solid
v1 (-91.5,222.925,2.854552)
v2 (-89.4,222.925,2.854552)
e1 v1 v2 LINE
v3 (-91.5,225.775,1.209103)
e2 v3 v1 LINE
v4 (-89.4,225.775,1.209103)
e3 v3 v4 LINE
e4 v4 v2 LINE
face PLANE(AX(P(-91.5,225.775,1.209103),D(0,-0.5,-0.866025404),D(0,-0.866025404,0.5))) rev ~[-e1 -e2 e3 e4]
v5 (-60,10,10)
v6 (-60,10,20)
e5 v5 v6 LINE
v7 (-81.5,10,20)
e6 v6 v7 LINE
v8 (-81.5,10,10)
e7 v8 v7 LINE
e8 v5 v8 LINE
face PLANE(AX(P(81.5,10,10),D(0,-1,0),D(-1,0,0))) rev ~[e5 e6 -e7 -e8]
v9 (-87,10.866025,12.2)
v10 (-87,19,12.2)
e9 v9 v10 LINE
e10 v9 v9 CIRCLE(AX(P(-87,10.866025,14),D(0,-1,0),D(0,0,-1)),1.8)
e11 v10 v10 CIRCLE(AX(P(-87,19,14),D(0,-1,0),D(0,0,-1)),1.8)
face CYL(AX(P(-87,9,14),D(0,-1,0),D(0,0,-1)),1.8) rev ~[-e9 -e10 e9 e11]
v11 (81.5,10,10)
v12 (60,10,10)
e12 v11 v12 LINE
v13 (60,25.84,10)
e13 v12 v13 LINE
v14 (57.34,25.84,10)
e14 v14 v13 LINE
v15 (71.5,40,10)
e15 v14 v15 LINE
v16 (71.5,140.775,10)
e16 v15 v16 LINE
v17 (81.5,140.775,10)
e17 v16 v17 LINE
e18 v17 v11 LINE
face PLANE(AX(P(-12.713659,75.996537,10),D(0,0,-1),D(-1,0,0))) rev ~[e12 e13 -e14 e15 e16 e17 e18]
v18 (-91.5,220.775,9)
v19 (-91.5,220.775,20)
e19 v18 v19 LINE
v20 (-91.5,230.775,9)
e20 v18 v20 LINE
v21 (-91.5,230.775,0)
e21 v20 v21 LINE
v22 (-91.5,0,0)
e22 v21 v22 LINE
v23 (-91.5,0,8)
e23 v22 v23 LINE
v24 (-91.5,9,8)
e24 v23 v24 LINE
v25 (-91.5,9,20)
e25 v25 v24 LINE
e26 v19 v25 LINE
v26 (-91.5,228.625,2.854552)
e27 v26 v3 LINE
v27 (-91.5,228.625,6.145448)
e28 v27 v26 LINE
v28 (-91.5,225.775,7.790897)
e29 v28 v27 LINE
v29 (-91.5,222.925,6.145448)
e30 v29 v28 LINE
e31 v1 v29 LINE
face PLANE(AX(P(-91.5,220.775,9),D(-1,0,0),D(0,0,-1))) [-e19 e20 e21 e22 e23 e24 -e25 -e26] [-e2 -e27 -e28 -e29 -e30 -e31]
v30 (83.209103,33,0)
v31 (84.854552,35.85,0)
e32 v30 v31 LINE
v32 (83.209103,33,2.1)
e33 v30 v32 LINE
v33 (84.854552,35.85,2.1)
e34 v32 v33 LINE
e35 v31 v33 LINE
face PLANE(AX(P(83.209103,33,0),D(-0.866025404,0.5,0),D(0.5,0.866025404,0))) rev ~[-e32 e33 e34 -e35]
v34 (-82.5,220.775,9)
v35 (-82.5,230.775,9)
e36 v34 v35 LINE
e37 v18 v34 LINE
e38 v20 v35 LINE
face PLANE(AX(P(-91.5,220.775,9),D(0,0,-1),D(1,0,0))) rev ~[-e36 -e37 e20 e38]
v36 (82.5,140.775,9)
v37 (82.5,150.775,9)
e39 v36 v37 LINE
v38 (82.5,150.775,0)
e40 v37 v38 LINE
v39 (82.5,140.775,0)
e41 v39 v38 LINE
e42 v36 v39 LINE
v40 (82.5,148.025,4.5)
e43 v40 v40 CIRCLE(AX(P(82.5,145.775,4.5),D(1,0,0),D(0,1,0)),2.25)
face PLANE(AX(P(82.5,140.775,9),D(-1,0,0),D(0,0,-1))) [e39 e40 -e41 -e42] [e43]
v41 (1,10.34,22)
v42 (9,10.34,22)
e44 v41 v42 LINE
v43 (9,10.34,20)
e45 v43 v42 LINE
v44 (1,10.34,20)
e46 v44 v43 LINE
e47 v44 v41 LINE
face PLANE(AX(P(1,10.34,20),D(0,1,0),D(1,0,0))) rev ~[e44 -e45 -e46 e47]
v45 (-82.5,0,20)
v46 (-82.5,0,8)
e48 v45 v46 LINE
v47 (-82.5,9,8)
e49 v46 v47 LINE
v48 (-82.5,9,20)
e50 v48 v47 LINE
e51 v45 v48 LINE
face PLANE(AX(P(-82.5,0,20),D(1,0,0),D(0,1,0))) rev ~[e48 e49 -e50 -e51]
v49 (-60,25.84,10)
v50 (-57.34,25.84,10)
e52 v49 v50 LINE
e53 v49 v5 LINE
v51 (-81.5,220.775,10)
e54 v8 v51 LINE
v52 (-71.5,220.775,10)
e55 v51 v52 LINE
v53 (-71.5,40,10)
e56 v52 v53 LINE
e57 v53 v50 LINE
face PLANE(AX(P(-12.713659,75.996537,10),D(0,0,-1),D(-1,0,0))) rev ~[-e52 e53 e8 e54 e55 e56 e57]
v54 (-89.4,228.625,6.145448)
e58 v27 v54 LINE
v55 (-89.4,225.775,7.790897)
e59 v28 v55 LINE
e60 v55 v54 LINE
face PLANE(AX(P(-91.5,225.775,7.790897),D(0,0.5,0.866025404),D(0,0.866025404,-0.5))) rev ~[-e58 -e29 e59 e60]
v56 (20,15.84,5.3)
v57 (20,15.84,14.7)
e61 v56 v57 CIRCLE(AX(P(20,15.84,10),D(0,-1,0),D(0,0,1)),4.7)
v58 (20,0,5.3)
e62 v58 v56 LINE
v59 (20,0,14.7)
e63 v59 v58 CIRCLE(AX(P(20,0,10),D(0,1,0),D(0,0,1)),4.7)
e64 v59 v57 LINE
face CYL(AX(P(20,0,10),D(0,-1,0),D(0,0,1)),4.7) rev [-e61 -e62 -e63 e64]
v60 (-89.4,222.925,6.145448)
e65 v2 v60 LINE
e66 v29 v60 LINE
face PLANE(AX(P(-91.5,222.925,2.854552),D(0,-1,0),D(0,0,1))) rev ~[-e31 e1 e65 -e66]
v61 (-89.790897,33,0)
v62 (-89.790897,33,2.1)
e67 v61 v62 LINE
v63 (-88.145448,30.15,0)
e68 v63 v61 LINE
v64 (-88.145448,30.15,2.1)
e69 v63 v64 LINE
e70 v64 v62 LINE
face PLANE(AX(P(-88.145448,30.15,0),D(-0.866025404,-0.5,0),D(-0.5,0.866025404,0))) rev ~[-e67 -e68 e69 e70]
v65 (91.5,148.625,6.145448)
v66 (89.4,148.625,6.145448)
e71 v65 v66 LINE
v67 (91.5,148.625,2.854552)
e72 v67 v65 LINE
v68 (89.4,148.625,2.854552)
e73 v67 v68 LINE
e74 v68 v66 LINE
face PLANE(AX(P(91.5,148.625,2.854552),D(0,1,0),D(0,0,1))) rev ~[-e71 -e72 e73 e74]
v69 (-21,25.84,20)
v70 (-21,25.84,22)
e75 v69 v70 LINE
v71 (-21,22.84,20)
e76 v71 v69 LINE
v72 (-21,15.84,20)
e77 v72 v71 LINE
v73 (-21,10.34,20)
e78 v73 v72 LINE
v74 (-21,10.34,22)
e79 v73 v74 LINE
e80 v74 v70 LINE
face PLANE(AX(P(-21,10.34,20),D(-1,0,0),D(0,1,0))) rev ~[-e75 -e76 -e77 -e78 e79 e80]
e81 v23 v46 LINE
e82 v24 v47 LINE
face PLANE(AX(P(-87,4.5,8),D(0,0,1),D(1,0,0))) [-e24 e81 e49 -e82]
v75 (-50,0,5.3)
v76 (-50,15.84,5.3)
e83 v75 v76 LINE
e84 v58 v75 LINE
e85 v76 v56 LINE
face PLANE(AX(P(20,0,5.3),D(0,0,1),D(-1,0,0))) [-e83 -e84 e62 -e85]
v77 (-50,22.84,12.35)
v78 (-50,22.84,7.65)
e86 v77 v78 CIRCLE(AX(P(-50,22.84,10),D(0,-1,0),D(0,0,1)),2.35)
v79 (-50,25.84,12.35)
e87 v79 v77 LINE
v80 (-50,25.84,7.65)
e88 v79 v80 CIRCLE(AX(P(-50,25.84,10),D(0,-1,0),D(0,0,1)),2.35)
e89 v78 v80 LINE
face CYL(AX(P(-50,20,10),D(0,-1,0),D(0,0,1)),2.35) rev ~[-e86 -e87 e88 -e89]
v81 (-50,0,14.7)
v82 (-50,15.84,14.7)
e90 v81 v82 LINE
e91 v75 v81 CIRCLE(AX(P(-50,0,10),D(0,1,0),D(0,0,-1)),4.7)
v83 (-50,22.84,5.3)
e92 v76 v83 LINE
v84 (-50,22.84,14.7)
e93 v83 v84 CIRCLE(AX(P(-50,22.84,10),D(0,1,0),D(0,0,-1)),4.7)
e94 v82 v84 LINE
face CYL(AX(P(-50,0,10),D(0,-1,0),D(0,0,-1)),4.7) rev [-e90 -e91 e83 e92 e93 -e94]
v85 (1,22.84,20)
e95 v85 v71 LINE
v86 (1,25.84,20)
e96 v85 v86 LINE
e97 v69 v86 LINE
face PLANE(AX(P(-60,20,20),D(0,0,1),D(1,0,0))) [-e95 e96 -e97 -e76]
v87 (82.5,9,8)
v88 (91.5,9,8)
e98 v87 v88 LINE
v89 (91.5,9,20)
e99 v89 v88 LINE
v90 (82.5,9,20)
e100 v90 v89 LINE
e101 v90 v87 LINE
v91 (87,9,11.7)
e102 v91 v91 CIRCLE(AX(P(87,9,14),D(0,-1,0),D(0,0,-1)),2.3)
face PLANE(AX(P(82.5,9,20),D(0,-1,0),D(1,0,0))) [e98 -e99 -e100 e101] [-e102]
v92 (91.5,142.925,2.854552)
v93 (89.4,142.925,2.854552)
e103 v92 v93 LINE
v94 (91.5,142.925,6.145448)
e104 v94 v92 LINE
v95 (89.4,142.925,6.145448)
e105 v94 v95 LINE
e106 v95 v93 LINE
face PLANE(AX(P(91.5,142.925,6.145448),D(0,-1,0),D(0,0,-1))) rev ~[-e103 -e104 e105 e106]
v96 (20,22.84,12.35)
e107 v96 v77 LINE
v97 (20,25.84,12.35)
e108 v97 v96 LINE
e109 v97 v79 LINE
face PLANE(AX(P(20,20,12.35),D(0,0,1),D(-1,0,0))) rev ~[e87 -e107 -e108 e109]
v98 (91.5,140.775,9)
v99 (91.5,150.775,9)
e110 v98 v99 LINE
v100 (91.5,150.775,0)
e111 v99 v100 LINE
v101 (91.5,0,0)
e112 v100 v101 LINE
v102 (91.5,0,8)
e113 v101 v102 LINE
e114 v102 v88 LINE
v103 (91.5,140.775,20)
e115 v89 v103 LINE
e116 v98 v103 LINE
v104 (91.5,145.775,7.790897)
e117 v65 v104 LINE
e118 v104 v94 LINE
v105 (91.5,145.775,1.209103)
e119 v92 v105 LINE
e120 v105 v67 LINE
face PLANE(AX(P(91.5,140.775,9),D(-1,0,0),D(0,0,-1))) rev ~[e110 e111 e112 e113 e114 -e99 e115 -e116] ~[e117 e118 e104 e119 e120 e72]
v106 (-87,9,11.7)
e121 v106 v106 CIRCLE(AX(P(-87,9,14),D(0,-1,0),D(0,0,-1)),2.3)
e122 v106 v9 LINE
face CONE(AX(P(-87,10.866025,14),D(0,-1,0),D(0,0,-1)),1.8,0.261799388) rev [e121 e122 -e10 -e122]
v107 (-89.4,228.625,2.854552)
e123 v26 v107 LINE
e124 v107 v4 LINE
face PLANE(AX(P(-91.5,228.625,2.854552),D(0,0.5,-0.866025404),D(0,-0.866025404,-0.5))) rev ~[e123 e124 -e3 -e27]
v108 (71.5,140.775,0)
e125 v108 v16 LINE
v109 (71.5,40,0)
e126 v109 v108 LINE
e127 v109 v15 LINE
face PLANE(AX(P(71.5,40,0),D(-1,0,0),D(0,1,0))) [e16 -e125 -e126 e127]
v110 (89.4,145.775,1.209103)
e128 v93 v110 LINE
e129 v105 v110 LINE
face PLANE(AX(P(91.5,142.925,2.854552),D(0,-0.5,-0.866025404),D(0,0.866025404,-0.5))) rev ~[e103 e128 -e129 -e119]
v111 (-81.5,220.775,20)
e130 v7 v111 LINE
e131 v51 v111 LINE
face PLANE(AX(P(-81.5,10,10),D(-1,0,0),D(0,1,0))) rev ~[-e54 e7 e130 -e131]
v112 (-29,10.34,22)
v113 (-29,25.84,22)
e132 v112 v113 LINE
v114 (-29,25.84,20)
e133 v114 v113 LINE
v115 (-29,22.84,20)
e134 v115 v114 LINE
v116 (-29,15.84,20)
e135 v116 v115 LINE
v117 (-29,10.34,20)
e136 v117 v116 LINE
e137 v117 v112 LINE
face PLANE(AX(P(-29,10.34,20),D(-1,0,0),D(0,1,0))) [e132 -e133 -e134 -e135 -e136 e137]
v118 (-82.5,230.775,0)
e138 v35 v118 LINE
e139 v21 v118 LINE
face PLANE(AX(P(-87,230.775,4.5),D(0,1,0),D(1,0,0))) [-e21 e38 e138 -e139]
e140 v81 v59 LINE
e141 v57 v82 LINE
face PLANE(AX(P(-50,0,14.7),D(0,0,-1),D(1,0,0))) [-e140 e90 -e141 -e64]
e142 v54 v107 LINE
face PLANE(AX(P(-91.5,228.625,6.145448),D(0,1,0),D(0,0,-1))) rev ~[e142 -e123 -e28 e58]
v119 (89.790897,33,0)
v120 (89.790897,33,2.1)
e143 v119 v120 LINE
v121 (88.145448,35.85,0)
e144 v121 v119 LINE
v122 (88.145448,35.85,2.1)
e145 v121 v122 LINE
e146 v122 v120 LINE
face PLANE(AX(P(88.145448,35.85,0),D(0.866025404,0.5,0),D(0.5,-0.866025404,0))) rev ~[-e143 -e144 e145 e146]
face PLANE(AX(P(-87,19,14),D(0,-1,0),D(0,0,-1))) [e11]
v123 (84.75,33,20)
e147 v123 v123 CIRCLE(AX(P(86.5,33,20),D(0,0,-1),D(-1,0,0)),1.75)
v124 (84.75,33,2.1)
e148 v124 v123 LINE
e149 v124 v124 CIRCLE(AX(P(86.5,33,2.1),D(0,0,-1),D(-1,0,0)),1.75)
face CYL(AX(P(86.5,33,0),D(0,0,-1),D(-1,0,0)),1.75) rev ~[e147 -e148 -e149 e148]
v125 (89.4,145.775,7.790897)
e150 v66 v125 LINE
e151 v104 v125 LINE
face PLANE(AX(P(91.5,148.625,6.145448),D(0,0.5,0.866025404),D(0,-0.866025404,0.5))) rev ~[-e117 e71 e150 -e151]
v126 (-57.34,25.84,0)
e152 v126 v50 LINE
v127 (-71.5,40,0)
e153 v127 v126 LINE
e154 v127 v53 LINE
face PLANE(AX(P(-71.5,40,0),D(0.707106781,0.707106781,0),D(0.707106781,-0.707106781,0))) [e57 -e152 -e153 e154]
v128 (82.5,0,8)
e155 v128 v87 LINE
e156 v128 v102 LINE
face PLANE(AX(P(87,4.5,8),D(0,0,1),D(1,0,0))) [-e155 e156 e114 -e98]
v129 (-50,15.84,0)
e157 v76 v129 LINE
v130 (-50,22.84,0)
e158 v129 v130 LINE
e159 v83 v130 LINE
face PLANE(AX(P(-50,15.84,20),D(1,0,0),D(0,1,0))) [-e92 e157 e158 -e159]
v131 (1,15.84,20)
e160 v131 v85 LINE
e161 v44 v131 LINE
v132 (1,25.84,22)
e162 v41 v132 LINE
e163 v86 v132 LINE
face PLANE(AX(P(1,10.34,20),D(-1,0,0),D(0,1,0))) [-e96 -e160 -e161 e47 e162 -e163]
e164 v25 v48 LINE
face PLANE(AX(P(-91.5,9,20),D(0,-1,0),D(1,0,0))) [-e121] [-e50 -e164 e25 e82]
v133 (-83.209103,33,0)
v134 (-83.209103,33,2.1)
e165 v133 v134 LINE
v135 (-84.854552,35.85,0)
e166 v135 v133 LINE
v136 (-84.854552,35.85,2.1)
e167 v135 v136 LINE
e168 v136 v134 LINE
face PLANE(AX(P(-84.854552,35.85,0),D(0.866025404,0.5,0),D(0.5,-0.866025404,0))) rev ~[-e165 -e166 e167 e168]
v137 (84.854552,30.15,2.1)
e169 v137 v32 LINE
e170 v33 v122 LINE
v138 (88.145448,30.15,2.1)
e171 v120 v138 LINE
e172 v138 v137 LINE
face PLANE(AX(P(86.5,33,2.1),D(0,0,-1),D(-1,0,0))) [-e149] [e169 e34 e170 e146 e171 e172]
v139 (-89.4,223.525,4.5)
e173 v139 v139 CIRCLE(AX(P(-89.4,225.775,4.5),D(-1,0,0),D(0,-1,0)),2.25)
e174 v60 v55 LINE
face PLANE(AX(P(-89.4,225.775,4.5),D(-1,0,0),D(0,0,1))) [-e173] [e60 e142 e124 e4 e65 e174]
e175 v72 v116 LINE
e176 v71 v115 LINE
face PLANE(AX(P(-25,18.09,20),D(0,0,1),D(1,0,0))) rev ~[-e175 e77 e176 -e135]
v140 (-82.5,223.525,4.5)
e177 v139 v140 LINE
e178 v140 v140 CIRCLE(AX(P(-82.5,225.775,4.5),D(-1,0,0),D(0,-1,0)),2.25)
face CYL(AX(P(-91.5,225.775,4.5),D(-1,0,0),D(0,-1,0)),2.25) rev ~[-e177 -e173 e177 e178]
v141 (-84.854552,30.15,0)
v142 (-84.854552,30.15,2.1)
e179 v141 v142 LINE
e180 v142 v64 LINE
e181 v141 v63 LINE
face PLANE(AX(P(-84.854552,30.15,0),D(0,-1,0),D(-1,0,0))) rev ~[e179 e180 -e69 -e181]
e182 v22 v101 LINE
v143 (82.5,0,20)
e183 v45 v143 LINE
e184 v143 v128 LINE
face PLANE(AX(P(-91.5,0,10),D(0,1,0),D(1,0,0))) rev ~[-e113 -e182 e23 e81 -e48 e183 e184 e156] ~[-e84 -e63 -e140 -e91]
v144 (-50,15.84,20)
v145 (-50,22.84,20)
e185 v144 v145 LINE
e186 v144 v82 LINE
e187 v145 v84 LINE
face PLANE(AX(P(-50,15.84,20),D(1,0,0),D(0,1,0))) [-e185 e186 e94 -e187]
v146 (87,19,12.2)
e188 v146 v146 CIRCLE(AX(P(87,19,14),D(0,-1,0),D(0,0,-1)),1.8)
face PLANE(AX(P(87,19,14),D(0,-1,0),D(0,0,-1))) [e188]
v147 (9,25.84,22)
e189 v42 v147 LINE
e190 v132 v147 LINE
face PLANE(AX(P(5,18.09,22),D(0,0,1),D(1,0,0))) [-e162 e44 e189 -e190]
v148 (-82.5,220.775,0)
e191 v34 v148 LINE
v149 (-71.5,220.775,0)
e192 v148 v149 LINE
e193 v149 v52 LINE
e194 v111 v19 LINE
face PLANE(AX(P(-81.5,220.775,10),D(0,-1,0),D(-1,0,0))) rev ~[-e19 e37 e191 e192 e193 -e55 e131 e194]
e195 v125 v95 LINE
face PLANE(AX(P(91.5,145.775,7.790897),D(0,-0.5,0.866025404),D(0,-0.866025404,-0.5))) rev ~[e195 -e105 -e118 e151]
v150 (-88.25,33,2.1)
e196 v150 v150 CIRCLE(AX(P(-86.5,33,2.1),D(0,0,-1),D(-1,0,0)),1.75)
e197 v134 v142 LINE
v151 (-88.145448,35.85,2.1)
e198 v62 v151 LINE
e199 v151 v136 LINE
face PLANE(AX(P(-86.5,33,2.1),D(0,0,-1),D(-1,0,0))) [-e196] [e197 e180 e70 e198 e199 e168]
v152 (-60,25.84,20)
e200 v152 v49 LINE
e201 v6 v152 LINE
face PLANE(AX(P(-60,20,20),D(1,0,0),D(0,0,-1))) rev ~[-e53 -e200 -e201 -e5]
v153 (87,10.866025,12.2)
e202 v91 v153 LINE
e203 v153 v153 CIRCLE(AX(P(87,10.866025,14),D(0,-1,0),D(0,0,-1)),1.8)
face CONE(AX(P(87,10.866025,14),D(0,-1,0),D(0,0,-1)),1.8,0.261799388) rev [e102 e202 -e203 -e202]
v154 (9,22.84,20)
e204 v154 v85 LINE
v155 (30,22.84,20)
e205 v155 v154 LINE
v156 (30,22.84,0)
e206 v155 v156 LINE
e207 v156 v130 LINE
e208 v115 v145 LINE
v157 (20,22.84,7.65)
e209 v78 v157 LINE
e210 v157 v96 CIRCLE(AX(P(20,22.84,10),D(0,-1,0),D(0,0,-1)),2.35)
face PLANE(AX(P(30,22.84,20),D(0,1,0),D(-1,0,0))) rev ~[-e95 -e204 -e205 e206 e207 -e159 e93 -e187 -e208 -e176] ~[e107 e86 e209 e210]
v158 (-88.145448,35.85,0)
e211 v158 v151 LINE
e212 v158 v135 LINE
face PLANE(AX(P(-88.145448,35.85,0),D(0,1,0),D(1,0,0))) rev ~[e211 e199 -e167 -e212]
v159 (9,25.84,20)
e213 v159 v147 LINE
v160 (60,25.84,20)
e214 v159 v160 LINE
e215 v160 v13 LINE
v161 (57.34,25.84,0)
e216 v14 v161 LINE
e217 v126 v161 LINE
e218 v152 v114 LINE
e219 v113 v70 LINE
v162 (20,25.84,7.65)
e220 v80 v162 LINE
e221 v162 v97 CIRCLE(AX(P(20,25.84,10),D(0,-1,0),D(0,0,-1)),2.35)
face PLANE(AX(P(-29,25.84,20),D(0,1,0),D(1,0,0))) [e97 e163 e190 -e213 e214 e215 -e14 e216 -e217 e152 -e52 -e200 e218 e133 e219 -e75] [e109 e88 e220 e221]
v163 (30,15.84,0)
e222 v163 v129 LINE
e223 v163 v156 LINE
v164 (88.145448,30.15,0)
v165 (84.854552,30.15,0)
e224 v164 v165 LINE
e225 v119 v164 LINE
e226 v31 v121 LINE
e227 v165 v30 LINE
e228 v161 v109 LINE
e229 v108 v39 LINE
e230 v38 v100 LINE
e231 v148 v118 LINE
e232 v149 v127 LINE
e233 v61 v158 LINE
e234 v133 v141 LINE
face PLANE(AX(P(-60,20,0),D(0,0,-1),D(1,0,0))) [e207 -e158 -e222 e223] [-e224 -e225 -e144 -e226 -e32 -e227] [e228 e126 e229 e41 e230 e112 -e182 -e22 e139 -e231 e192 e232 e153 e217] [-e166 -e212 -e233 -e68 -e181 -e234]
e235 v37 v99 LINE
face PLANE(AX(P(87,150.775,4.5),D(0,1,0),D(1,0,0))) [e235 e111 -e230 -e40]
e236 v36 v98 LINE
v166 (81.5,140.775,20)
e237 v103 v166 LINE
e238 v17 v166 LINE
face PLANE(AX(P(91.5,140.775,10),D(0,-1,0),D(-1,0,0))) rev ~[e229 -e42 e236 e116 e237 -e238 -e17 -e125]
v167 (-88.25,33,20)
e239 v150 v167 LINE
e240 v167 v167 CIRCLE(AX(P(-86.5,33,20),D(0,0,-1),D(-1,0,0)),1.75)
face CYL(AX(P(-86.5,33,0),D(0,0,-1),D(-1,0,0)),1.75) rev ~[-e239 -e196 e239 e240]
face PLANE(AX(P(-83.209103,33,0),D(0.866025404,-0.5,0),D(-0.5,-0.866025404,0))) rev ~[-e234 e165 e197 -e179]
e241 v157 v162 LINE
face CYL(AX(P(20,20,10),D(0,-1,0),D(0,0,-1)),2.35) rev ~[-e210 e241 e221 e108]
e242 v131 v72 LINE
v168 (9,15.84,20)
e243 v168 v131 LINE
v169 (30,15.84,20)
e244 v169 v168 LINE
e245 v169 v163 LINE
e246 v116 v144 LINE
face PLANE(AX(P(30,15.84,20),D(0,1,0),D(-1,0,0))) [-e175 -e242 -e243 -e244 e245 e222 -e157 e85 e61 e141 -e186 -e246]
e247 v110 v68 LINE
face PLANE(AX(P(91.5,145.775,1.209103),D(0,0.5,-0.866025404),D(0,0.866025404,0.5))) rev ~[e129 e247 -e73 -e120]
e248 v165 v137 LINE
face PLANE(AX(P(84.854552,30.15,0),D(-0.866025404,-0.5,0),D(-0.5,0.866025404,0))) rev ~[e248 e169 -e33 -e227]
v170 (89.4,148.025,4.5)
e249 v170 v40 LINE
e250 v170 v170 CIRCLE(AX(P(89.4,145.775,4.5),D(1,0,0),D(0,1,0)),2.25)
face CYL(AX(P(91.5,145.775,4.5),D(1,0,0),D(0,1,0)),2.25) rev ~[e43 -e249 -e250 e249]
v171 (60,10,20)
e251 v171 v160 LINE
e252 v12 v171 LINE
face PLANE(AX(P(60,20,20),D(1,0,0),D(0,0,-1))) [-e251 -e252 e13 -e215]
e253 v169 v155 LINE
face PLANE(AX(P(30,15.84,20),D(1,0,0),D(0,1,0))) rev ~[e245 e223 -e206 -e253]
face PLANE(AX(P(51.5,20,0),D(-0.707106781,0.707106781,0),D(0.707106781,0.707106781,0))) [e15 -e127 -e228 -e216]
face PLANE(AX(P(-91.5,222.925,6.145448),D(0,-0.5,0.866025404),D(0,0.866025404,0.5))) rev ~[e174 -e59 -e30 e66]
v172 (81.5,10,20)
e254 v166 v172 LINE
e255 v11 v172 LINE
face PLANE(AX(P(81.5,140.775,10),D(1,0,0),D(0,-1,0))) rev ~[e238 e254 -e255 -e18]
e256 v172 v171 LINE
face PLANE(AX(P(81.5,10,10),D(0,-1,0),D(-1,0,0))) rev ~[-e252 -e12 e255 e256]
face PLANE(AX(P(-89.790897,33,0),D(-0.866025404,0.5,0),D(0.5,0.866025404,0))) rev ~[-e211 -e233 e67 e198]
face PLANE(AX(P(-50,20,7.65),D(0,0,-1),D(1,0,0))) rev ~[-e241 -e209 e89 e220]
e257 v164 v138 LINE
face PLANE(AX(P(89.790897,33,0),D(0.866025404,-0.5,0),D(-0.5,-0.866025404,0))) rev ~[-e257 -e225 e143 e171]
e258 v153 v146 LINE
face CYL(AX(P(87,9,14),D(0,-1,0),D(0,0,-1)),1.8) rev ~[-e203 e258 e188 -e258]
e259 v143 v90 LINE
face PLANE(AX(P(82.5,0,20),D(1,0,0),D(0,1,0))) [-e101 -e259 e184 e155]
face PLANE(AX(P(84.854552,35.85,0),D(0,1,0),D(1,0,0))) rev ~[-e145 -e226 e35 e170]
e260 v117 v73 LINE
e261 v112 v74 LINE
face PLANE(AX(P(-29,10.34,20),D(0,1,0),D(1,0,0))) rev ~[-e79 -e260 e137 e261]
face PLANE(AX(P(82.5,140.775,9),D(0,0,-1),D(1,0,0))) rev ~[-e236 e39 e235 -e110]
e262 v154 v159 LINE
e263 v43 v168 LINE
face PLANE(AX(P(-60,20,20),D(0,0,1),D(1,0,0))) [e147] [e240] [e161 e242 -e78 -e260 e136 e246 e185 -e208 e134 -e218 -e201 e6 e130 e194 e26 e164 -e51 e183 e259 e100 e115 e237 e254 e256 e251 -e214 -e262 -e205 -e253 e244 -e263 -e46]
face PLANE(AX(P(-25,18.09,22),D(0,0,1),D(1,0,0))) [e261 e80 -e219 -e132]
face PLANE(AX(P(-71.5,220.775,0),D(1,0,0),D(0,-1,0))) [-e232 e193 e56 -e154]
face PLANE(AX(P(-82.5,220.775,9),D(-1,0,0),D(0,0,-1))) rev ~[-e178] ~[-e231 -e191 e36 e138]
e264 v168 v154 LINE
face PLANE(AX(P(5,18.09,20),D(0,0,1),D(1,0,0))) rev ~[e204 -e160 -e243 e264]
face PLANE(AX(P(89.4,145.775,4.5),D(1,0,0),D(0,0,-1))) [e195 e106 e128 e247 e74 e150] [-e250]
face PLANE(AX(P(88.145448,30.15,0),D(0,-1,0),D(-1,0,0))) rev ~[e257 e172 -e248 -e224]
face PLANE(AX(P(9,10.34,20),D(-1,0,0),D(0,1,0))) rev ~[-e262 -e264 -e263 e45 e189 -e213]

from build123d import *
from OCP.BRepFilletAPI import BRepFilletAPI_MakeChamfer

# Parameters (mm, degrees)
BOSS_EXTRUDE1_DEPTH             = 10
BOSS_EXTRUDE2_DEPTH             = 10
SKETCH3_W                       = 9
SKETCH3_H                       = 9
BOSS_EXTRUDE3_DEPTH             = 10
SKETCH5_W                       = 9
SKETCH5_H                       = 9
BOSS_EXTRUDE4_DEPTH             = 10
SKETCH6_R                       = 2.25
CUT_EXTRUDE1_DEPTH              = 9
SKETCH7_R                       = 2.25
CUT_EXTRUDE2_DEPTH              = 9
SKETCH8_R                       = 1.75
CUT_EXTRUDE3_DEPTH              = 250.05692246
CUT_EXTRUDE4_DEPTH              = 2.1
SKETCH10_W                      = 9
SKETCH10_H                      = 9
CUT_EXTRUDE5_DEPTH              = 12
SKETCH11_R                      = 1.8
CUT_EXTRUDE6_DEPTH              = 10
CHAMFER1_SIZE                   = 0.5
CHAMFER1_SIZE2                  = 1.866025404
CUT_EXTRUDE7_DEPTH              = 2.1
CUT_EXTRUDE8_DEPTH              = 2.1
SKETCH14_W                      = 120
SKETCH14_H                      = 20
BOSS_EXTRUDE5_DEPTH             = 5.84
BOSS_EXTRUDE5_DIRECTION_2_REACH = 232.648
CUT_EXTRUDE9_START              = -20
SKETCH15_W                      = 80
SKETCH15_H                      = 7
CUT_EXTRUDE9_DEPTH              = 20
CUT_EXTRUDE10_START             = -15.84
CUT_EXTRUDE10_DEPTH             = 22.84
SKETCH17_W                      = 8
SKETCH17_H                      = 15.5
BOSS_EXTRUDE6_DEPTH             = 2


with BuildPart() as part:
    # Sketch1 → Boss-Extrude1 (new body)
    with BuildSketch(Plane.XY):
        Polygon((0, 0), (-91.5, 0), (-91.5, 220.775), (-71.5, 220.775), (-71.5, 40), (-51.5, 20), (0, 20), (51.5, 20), (71.5, 40), (71.5, 140.775), (91.5, 140.775), (91.5, 0), align=None)
    extrude(amount=BOSS_EXTRUDE1_DEPTH)

    # Sketch2 → Boss-Extrude2 (add)
    with BuildSketch(Plane.XY.offset(10)):
        Polygon((-81.5, 220.775), (-91.5, 220.775), (-91.5, 0), (91.5, 0), (91.5, 140.775), (81.5, 140.775), (81.5, 10), (-81.5, 10), align=None)
    extrude(amount=BOSS_EXTRUDE2_DEPTH)

    # Sketch3 → Boss-Extrude3 (add)
    with BuildSketch(Plane(origin=(0, 220.775, 0), x_dir=(1, 0, 0), z_dir=(0, 1, 0))):
        with Locations((-87, -4.5)):
            Rectangle(SKETCH3_W, SKETCH3_H)
    extrude(amount=BOSS_EXTRUDE3_DEPTH)

    # Sketch5 → Boss-Extrude4 (add)
    with BuildSketch(Plane(origin=(0, 140.775, 0), x_dir=(1, 0, 0), z_dir=(0, 1, 0))):
        with Locations((87, -4.5)):
            Rectangle(SKETCH5_W, SKETCH5_H)
    extrude(amount=BOSS_EXTRUDE4_DEPTH)

    # Sketch6 → Cut-Extrude1 (cut)
    with BuildSketch(Plane.ZY.offset(91.5)):
        with Locations(Location((4.5, 225.775, 0), (0, 0, 270))):
            Circle(SKETCH6_R)
    extrude(amount=-CUT_EXTRUDE1_DEPTH, mode=Mode.SUBTRACT)

    # Sketch7 → Cut-Extrude2 (cut)
    with BuildSketch(Plane(origin=(91.5, 0, 0), x_dir=(0, 0, -1), z_dir=(1, 0, 0))):
        with Locations(Location((-4.5, 145.775, 0), (0, 0, 90))):
            Circle(SKETCH7_R)
    extrude(amount=-CUT_EXTRUDE2_DEPTH, mode=Mode.SUBTRACT)

    # Sketch8 → Cut-Extrude3 (cut, through all)
    with BuildSketch(Plane(origin=(0, 0, 0), x_dir=(-1, 0, 0), z_dir=(0, 0, -1))):
        with Locations((86.5, 33)):
            Circle(SKETCH8_R)
        with Locations((-86.5, 33)):
            Circle(SKETCH8_R)
    extrude(amount=-CUT_EXTRUDE3_DEPTH, mode=Mode.SUBTRACT)

    # Sketch9 → Cut-Extrude4 (cut)
    with BuildSketch(Plane(origin=(0, 0, 0), x_dir=(-1, 0, 0), z_dir=(0, 0, -1))):
        Polygon((-84.854551733, 30.15), (-83.209103466, 33), (-84.854551733, 35.85), (-88.145448267, 35.85), (-89.790896534, 33), (-88.145448267, 30.15), align=None)
        Polygon((88.145448267, 30.15), (89.790896534, 33), (88.145448267, 35.85), (84.854551733, 35.85), (83.209103466, 33), (84.854551733, 30.15), align=None)
    extrude(amount=-CUT_EXTRUDE4_DEPTH, mode=Mode.SUBTRACT)

    # Sketch10 → Cut-Extrude5 (cut)
    with BuildSketch(Plane.XY.offset(20)):
        with Locations((87, 4.5)):
            Rectangle(SKETCH10_W, SKETCH10_H)
        with Locations((-87, 4.5)):
            Rectangle(SKETCH10_W, SKETCH10_H)
    extrude(amount=-CUT_EXTRUDE5_DEPTH, mode=Mode.SUBTRACT)

    # Sketch11 → Cut-Extrude6 (cut)
    with BuildSketch(Plane.XZ.offset(-9)):
        with Locations(Location((-87, 14, 0), (0, 0, 270))):
            Circle(SKETCH11_R)
        with Locations(Location((87, 14, 0), (0, 0, 270))):
            Circle(SKETCH11_R)
    extrude(amount=-CUT_EXTRUDE6_DEPTH, mode=Mode.SUBTRACT)

    # Chamfer1: one chamfer whose edges measure the first distance from different faces: ONE call of the kernel's chamfer builder (chamfer() names one face for all edges)
    chamfer1_edges_1 = [part.edges().sort_by_distance(p)[0] for p in [
        (-87, 9, 15.8),
    ]]
    chamfer1_side_1 = [part.faces().sort_by_distance(p)[0] for p in [
        (-91.35, 9, 14),
    ]]
    chamfer1_edges_2 = [part.edges().sort_by_distance(p)[0] for p in [
        (87, 9, 15.8),
    ]]
    chamfer1_side_2 = [part.faces().sort_by_distance(p)[0] for p in [
        (82.65, 9, 14),
    ]]
    chamfer1 = BRepFilletAPI_MakeChamfer(part.part.solid().wrapped)
    for e in chamfer1_edges_1:
        chamfer1.Add(CHAMFER1_SIZE, CHAMFER1_SIZE2, e.wrapped, chamfer1_side_1[0].wrapped)  # the first distance lies on this face
    for e in chamfer1_edges_2:
        chamfer1.Add(CHAMFER1_SIZE, CHAMFER1_SIZE2, e.wrapped, chamfer1_side_2[0].wrapped)  # the first distance lies on this face
    add(Compound.cast(chamfer1.Shape()), mode=Mode.REPLACE)

    # Sketch12 → Cut-Extrude7 (cut)
    with BuildSketch(Plane.ZY.offset(91.5)):
        Polygon((6.145448267, 222.925), (7.790896534, 225.775), (6.145448267, 228.625), (2.854551733, 228.625), (1.209103466, 225.775), (2.854551733, 222.925), align=None)
    extrude(amount=-CUT_EXTRUDE7_DEPTH, mode=Mode.SUBTRACT)

    # Sketch13 → Cut-Extrude8 (cut)
    with BuildSketch(Plane(origin=(91.5, 0, 0), x_dir=(0, 0, -1), z_dir=(1, 0, 0))):
        Polygon((-2.854551733, 142.925), (-1.209103466, 145.775), (-2.854551733, 148.625), (-6.145448267, 148.625), (-7.790896534, 145.775), (-6.145448267, 142.925), align=None)
    extrude(amount=-CUT_EXTRUDE8_DEPTH, mode=Mode.SUBTRACT)

    # Sketch14 → Boss-Extrude5 (add)
    with BuildSketch(Plane(origin=(0, 20, 0), x_dir=(1, 0, 0), z_dir=(0, 1, 0))):
        with Locations((0, -10)):
            Rectangle(SKETCH14_W, SKETCH14_H)
        with BuildLine():
            Line((-50, -7.65), (20, -7.65))
            ThreePointArc((20, -7.65), (22.35, -10), (20, -12.35))
            Line((20, -12.35), (-50, -12.35))
            ThreePointArc((-50, -12.35), (-52.35, -10), (-50, -7.65))
        make_face(mode=Mode.SUBTRACT)
    extrude(amount=BOSS_EXTRUDE5_DEPTH)

    # Boss-Extrude5 direction 2: up to this face of the body (flat: up to its plane)
    boss_extrude5_direction_2_end = Plane(part.part.faces().sort_by_distance((0, 10, 15))[0])
    # Sketch14 → Boss-Extrude5 direction 2 (add, up to the picked face)
    with BuildSketch(Plane(origin=(0, 20, 0), x_dir=(1, 0, 0), z_dir=(0, 1, 0)), mode=Mode.PRIVATE) as boss_extrude5_direction_2_sk1:
        with Locations((0, -10)):
            Rectangle(SKETCH14_W, SKETCH14_H)
        with BuildLine():
            Line((-50, -7.65), (20, -7.65))
            ThreePointArc((20, -7.65), (22.35, -10), (20, -12.35))
            Line((20, -12.35), (-50, -12.35))
            ThreePointArc((-50, -12.35), (-52.35, -10), (-50, -7.65))
        make_face(mode=Mode.SUBTRACT)
    boss_extrude5_direction_2_tool1 = split(extrude(boss_extrude5_direction_2_sk1.sketch, amount=-BOSS_EXTRUDE5_DIRECTION_2_REACH, mode=Mode.PRIVATE), bisect_by=boss_extrude5_direction_2_end, keep=Keep.BOTH, mode=Mode.PRIVATE)
    add(boss_extrude5_direction_2_tool1.solids().sort_by(Axis((0, 20, 18.783447), (0, -1, 0)))[0])

    # Sketch15 → Cut-Extrude9 (cut)
    with BuildSketch(Plane(origin=(0, 0, 0), x_dir=(-1, 0, 0), z_dir=(0, 0, -1)).offset(CUT_EXTRUDE9_START)):
        with Locations((10, 19.34)):
            Rectangle(SKETCH15_W, SKETCH15_H)
    extrude(amount=CUT_EXTRUDE9_DEPTH, mode=Mode.SUBTRACT)

    # Sketch16 → Cut-Extrude10 (cut)
    with BuildSketch(Plane(origin=(0, 15.84, 0), x_dir=(1, 0, 0), z_dir=(0, 1, 0)).offset(CUT_EXTRUDE10_START)):
        with BuildLine():
            Line((20, -5.3), (-50, -5.3))
            ThreePointArc((-50, -5.3), (-54.7, -10), (-50, -14.7))
            Line((-50, -14.7), (20, -14.7))
            ThreePointArc((20, -14.7), (24.7, -10), (20, -5.3))
        make_face()
    extrude(amount=CUT_EXTRUDE10_DEPTH, mode=Mode.SUBTRACT)

    # Sketch17 → Boss-Extrude6 (add)
    with BuildSketch(Plane.XY.offset(20)):
        with Locations((-25, 18.09)):
            Rectangle(SKETCH17_W, SKETCH17_H)
        with Locations((5, 18.09)):
            Rectangle(SKETCH17_W, SKETCH17_H)
    extrude(amount=BOSS_EXTRUDE6_DEPTH)


solid = part.part
